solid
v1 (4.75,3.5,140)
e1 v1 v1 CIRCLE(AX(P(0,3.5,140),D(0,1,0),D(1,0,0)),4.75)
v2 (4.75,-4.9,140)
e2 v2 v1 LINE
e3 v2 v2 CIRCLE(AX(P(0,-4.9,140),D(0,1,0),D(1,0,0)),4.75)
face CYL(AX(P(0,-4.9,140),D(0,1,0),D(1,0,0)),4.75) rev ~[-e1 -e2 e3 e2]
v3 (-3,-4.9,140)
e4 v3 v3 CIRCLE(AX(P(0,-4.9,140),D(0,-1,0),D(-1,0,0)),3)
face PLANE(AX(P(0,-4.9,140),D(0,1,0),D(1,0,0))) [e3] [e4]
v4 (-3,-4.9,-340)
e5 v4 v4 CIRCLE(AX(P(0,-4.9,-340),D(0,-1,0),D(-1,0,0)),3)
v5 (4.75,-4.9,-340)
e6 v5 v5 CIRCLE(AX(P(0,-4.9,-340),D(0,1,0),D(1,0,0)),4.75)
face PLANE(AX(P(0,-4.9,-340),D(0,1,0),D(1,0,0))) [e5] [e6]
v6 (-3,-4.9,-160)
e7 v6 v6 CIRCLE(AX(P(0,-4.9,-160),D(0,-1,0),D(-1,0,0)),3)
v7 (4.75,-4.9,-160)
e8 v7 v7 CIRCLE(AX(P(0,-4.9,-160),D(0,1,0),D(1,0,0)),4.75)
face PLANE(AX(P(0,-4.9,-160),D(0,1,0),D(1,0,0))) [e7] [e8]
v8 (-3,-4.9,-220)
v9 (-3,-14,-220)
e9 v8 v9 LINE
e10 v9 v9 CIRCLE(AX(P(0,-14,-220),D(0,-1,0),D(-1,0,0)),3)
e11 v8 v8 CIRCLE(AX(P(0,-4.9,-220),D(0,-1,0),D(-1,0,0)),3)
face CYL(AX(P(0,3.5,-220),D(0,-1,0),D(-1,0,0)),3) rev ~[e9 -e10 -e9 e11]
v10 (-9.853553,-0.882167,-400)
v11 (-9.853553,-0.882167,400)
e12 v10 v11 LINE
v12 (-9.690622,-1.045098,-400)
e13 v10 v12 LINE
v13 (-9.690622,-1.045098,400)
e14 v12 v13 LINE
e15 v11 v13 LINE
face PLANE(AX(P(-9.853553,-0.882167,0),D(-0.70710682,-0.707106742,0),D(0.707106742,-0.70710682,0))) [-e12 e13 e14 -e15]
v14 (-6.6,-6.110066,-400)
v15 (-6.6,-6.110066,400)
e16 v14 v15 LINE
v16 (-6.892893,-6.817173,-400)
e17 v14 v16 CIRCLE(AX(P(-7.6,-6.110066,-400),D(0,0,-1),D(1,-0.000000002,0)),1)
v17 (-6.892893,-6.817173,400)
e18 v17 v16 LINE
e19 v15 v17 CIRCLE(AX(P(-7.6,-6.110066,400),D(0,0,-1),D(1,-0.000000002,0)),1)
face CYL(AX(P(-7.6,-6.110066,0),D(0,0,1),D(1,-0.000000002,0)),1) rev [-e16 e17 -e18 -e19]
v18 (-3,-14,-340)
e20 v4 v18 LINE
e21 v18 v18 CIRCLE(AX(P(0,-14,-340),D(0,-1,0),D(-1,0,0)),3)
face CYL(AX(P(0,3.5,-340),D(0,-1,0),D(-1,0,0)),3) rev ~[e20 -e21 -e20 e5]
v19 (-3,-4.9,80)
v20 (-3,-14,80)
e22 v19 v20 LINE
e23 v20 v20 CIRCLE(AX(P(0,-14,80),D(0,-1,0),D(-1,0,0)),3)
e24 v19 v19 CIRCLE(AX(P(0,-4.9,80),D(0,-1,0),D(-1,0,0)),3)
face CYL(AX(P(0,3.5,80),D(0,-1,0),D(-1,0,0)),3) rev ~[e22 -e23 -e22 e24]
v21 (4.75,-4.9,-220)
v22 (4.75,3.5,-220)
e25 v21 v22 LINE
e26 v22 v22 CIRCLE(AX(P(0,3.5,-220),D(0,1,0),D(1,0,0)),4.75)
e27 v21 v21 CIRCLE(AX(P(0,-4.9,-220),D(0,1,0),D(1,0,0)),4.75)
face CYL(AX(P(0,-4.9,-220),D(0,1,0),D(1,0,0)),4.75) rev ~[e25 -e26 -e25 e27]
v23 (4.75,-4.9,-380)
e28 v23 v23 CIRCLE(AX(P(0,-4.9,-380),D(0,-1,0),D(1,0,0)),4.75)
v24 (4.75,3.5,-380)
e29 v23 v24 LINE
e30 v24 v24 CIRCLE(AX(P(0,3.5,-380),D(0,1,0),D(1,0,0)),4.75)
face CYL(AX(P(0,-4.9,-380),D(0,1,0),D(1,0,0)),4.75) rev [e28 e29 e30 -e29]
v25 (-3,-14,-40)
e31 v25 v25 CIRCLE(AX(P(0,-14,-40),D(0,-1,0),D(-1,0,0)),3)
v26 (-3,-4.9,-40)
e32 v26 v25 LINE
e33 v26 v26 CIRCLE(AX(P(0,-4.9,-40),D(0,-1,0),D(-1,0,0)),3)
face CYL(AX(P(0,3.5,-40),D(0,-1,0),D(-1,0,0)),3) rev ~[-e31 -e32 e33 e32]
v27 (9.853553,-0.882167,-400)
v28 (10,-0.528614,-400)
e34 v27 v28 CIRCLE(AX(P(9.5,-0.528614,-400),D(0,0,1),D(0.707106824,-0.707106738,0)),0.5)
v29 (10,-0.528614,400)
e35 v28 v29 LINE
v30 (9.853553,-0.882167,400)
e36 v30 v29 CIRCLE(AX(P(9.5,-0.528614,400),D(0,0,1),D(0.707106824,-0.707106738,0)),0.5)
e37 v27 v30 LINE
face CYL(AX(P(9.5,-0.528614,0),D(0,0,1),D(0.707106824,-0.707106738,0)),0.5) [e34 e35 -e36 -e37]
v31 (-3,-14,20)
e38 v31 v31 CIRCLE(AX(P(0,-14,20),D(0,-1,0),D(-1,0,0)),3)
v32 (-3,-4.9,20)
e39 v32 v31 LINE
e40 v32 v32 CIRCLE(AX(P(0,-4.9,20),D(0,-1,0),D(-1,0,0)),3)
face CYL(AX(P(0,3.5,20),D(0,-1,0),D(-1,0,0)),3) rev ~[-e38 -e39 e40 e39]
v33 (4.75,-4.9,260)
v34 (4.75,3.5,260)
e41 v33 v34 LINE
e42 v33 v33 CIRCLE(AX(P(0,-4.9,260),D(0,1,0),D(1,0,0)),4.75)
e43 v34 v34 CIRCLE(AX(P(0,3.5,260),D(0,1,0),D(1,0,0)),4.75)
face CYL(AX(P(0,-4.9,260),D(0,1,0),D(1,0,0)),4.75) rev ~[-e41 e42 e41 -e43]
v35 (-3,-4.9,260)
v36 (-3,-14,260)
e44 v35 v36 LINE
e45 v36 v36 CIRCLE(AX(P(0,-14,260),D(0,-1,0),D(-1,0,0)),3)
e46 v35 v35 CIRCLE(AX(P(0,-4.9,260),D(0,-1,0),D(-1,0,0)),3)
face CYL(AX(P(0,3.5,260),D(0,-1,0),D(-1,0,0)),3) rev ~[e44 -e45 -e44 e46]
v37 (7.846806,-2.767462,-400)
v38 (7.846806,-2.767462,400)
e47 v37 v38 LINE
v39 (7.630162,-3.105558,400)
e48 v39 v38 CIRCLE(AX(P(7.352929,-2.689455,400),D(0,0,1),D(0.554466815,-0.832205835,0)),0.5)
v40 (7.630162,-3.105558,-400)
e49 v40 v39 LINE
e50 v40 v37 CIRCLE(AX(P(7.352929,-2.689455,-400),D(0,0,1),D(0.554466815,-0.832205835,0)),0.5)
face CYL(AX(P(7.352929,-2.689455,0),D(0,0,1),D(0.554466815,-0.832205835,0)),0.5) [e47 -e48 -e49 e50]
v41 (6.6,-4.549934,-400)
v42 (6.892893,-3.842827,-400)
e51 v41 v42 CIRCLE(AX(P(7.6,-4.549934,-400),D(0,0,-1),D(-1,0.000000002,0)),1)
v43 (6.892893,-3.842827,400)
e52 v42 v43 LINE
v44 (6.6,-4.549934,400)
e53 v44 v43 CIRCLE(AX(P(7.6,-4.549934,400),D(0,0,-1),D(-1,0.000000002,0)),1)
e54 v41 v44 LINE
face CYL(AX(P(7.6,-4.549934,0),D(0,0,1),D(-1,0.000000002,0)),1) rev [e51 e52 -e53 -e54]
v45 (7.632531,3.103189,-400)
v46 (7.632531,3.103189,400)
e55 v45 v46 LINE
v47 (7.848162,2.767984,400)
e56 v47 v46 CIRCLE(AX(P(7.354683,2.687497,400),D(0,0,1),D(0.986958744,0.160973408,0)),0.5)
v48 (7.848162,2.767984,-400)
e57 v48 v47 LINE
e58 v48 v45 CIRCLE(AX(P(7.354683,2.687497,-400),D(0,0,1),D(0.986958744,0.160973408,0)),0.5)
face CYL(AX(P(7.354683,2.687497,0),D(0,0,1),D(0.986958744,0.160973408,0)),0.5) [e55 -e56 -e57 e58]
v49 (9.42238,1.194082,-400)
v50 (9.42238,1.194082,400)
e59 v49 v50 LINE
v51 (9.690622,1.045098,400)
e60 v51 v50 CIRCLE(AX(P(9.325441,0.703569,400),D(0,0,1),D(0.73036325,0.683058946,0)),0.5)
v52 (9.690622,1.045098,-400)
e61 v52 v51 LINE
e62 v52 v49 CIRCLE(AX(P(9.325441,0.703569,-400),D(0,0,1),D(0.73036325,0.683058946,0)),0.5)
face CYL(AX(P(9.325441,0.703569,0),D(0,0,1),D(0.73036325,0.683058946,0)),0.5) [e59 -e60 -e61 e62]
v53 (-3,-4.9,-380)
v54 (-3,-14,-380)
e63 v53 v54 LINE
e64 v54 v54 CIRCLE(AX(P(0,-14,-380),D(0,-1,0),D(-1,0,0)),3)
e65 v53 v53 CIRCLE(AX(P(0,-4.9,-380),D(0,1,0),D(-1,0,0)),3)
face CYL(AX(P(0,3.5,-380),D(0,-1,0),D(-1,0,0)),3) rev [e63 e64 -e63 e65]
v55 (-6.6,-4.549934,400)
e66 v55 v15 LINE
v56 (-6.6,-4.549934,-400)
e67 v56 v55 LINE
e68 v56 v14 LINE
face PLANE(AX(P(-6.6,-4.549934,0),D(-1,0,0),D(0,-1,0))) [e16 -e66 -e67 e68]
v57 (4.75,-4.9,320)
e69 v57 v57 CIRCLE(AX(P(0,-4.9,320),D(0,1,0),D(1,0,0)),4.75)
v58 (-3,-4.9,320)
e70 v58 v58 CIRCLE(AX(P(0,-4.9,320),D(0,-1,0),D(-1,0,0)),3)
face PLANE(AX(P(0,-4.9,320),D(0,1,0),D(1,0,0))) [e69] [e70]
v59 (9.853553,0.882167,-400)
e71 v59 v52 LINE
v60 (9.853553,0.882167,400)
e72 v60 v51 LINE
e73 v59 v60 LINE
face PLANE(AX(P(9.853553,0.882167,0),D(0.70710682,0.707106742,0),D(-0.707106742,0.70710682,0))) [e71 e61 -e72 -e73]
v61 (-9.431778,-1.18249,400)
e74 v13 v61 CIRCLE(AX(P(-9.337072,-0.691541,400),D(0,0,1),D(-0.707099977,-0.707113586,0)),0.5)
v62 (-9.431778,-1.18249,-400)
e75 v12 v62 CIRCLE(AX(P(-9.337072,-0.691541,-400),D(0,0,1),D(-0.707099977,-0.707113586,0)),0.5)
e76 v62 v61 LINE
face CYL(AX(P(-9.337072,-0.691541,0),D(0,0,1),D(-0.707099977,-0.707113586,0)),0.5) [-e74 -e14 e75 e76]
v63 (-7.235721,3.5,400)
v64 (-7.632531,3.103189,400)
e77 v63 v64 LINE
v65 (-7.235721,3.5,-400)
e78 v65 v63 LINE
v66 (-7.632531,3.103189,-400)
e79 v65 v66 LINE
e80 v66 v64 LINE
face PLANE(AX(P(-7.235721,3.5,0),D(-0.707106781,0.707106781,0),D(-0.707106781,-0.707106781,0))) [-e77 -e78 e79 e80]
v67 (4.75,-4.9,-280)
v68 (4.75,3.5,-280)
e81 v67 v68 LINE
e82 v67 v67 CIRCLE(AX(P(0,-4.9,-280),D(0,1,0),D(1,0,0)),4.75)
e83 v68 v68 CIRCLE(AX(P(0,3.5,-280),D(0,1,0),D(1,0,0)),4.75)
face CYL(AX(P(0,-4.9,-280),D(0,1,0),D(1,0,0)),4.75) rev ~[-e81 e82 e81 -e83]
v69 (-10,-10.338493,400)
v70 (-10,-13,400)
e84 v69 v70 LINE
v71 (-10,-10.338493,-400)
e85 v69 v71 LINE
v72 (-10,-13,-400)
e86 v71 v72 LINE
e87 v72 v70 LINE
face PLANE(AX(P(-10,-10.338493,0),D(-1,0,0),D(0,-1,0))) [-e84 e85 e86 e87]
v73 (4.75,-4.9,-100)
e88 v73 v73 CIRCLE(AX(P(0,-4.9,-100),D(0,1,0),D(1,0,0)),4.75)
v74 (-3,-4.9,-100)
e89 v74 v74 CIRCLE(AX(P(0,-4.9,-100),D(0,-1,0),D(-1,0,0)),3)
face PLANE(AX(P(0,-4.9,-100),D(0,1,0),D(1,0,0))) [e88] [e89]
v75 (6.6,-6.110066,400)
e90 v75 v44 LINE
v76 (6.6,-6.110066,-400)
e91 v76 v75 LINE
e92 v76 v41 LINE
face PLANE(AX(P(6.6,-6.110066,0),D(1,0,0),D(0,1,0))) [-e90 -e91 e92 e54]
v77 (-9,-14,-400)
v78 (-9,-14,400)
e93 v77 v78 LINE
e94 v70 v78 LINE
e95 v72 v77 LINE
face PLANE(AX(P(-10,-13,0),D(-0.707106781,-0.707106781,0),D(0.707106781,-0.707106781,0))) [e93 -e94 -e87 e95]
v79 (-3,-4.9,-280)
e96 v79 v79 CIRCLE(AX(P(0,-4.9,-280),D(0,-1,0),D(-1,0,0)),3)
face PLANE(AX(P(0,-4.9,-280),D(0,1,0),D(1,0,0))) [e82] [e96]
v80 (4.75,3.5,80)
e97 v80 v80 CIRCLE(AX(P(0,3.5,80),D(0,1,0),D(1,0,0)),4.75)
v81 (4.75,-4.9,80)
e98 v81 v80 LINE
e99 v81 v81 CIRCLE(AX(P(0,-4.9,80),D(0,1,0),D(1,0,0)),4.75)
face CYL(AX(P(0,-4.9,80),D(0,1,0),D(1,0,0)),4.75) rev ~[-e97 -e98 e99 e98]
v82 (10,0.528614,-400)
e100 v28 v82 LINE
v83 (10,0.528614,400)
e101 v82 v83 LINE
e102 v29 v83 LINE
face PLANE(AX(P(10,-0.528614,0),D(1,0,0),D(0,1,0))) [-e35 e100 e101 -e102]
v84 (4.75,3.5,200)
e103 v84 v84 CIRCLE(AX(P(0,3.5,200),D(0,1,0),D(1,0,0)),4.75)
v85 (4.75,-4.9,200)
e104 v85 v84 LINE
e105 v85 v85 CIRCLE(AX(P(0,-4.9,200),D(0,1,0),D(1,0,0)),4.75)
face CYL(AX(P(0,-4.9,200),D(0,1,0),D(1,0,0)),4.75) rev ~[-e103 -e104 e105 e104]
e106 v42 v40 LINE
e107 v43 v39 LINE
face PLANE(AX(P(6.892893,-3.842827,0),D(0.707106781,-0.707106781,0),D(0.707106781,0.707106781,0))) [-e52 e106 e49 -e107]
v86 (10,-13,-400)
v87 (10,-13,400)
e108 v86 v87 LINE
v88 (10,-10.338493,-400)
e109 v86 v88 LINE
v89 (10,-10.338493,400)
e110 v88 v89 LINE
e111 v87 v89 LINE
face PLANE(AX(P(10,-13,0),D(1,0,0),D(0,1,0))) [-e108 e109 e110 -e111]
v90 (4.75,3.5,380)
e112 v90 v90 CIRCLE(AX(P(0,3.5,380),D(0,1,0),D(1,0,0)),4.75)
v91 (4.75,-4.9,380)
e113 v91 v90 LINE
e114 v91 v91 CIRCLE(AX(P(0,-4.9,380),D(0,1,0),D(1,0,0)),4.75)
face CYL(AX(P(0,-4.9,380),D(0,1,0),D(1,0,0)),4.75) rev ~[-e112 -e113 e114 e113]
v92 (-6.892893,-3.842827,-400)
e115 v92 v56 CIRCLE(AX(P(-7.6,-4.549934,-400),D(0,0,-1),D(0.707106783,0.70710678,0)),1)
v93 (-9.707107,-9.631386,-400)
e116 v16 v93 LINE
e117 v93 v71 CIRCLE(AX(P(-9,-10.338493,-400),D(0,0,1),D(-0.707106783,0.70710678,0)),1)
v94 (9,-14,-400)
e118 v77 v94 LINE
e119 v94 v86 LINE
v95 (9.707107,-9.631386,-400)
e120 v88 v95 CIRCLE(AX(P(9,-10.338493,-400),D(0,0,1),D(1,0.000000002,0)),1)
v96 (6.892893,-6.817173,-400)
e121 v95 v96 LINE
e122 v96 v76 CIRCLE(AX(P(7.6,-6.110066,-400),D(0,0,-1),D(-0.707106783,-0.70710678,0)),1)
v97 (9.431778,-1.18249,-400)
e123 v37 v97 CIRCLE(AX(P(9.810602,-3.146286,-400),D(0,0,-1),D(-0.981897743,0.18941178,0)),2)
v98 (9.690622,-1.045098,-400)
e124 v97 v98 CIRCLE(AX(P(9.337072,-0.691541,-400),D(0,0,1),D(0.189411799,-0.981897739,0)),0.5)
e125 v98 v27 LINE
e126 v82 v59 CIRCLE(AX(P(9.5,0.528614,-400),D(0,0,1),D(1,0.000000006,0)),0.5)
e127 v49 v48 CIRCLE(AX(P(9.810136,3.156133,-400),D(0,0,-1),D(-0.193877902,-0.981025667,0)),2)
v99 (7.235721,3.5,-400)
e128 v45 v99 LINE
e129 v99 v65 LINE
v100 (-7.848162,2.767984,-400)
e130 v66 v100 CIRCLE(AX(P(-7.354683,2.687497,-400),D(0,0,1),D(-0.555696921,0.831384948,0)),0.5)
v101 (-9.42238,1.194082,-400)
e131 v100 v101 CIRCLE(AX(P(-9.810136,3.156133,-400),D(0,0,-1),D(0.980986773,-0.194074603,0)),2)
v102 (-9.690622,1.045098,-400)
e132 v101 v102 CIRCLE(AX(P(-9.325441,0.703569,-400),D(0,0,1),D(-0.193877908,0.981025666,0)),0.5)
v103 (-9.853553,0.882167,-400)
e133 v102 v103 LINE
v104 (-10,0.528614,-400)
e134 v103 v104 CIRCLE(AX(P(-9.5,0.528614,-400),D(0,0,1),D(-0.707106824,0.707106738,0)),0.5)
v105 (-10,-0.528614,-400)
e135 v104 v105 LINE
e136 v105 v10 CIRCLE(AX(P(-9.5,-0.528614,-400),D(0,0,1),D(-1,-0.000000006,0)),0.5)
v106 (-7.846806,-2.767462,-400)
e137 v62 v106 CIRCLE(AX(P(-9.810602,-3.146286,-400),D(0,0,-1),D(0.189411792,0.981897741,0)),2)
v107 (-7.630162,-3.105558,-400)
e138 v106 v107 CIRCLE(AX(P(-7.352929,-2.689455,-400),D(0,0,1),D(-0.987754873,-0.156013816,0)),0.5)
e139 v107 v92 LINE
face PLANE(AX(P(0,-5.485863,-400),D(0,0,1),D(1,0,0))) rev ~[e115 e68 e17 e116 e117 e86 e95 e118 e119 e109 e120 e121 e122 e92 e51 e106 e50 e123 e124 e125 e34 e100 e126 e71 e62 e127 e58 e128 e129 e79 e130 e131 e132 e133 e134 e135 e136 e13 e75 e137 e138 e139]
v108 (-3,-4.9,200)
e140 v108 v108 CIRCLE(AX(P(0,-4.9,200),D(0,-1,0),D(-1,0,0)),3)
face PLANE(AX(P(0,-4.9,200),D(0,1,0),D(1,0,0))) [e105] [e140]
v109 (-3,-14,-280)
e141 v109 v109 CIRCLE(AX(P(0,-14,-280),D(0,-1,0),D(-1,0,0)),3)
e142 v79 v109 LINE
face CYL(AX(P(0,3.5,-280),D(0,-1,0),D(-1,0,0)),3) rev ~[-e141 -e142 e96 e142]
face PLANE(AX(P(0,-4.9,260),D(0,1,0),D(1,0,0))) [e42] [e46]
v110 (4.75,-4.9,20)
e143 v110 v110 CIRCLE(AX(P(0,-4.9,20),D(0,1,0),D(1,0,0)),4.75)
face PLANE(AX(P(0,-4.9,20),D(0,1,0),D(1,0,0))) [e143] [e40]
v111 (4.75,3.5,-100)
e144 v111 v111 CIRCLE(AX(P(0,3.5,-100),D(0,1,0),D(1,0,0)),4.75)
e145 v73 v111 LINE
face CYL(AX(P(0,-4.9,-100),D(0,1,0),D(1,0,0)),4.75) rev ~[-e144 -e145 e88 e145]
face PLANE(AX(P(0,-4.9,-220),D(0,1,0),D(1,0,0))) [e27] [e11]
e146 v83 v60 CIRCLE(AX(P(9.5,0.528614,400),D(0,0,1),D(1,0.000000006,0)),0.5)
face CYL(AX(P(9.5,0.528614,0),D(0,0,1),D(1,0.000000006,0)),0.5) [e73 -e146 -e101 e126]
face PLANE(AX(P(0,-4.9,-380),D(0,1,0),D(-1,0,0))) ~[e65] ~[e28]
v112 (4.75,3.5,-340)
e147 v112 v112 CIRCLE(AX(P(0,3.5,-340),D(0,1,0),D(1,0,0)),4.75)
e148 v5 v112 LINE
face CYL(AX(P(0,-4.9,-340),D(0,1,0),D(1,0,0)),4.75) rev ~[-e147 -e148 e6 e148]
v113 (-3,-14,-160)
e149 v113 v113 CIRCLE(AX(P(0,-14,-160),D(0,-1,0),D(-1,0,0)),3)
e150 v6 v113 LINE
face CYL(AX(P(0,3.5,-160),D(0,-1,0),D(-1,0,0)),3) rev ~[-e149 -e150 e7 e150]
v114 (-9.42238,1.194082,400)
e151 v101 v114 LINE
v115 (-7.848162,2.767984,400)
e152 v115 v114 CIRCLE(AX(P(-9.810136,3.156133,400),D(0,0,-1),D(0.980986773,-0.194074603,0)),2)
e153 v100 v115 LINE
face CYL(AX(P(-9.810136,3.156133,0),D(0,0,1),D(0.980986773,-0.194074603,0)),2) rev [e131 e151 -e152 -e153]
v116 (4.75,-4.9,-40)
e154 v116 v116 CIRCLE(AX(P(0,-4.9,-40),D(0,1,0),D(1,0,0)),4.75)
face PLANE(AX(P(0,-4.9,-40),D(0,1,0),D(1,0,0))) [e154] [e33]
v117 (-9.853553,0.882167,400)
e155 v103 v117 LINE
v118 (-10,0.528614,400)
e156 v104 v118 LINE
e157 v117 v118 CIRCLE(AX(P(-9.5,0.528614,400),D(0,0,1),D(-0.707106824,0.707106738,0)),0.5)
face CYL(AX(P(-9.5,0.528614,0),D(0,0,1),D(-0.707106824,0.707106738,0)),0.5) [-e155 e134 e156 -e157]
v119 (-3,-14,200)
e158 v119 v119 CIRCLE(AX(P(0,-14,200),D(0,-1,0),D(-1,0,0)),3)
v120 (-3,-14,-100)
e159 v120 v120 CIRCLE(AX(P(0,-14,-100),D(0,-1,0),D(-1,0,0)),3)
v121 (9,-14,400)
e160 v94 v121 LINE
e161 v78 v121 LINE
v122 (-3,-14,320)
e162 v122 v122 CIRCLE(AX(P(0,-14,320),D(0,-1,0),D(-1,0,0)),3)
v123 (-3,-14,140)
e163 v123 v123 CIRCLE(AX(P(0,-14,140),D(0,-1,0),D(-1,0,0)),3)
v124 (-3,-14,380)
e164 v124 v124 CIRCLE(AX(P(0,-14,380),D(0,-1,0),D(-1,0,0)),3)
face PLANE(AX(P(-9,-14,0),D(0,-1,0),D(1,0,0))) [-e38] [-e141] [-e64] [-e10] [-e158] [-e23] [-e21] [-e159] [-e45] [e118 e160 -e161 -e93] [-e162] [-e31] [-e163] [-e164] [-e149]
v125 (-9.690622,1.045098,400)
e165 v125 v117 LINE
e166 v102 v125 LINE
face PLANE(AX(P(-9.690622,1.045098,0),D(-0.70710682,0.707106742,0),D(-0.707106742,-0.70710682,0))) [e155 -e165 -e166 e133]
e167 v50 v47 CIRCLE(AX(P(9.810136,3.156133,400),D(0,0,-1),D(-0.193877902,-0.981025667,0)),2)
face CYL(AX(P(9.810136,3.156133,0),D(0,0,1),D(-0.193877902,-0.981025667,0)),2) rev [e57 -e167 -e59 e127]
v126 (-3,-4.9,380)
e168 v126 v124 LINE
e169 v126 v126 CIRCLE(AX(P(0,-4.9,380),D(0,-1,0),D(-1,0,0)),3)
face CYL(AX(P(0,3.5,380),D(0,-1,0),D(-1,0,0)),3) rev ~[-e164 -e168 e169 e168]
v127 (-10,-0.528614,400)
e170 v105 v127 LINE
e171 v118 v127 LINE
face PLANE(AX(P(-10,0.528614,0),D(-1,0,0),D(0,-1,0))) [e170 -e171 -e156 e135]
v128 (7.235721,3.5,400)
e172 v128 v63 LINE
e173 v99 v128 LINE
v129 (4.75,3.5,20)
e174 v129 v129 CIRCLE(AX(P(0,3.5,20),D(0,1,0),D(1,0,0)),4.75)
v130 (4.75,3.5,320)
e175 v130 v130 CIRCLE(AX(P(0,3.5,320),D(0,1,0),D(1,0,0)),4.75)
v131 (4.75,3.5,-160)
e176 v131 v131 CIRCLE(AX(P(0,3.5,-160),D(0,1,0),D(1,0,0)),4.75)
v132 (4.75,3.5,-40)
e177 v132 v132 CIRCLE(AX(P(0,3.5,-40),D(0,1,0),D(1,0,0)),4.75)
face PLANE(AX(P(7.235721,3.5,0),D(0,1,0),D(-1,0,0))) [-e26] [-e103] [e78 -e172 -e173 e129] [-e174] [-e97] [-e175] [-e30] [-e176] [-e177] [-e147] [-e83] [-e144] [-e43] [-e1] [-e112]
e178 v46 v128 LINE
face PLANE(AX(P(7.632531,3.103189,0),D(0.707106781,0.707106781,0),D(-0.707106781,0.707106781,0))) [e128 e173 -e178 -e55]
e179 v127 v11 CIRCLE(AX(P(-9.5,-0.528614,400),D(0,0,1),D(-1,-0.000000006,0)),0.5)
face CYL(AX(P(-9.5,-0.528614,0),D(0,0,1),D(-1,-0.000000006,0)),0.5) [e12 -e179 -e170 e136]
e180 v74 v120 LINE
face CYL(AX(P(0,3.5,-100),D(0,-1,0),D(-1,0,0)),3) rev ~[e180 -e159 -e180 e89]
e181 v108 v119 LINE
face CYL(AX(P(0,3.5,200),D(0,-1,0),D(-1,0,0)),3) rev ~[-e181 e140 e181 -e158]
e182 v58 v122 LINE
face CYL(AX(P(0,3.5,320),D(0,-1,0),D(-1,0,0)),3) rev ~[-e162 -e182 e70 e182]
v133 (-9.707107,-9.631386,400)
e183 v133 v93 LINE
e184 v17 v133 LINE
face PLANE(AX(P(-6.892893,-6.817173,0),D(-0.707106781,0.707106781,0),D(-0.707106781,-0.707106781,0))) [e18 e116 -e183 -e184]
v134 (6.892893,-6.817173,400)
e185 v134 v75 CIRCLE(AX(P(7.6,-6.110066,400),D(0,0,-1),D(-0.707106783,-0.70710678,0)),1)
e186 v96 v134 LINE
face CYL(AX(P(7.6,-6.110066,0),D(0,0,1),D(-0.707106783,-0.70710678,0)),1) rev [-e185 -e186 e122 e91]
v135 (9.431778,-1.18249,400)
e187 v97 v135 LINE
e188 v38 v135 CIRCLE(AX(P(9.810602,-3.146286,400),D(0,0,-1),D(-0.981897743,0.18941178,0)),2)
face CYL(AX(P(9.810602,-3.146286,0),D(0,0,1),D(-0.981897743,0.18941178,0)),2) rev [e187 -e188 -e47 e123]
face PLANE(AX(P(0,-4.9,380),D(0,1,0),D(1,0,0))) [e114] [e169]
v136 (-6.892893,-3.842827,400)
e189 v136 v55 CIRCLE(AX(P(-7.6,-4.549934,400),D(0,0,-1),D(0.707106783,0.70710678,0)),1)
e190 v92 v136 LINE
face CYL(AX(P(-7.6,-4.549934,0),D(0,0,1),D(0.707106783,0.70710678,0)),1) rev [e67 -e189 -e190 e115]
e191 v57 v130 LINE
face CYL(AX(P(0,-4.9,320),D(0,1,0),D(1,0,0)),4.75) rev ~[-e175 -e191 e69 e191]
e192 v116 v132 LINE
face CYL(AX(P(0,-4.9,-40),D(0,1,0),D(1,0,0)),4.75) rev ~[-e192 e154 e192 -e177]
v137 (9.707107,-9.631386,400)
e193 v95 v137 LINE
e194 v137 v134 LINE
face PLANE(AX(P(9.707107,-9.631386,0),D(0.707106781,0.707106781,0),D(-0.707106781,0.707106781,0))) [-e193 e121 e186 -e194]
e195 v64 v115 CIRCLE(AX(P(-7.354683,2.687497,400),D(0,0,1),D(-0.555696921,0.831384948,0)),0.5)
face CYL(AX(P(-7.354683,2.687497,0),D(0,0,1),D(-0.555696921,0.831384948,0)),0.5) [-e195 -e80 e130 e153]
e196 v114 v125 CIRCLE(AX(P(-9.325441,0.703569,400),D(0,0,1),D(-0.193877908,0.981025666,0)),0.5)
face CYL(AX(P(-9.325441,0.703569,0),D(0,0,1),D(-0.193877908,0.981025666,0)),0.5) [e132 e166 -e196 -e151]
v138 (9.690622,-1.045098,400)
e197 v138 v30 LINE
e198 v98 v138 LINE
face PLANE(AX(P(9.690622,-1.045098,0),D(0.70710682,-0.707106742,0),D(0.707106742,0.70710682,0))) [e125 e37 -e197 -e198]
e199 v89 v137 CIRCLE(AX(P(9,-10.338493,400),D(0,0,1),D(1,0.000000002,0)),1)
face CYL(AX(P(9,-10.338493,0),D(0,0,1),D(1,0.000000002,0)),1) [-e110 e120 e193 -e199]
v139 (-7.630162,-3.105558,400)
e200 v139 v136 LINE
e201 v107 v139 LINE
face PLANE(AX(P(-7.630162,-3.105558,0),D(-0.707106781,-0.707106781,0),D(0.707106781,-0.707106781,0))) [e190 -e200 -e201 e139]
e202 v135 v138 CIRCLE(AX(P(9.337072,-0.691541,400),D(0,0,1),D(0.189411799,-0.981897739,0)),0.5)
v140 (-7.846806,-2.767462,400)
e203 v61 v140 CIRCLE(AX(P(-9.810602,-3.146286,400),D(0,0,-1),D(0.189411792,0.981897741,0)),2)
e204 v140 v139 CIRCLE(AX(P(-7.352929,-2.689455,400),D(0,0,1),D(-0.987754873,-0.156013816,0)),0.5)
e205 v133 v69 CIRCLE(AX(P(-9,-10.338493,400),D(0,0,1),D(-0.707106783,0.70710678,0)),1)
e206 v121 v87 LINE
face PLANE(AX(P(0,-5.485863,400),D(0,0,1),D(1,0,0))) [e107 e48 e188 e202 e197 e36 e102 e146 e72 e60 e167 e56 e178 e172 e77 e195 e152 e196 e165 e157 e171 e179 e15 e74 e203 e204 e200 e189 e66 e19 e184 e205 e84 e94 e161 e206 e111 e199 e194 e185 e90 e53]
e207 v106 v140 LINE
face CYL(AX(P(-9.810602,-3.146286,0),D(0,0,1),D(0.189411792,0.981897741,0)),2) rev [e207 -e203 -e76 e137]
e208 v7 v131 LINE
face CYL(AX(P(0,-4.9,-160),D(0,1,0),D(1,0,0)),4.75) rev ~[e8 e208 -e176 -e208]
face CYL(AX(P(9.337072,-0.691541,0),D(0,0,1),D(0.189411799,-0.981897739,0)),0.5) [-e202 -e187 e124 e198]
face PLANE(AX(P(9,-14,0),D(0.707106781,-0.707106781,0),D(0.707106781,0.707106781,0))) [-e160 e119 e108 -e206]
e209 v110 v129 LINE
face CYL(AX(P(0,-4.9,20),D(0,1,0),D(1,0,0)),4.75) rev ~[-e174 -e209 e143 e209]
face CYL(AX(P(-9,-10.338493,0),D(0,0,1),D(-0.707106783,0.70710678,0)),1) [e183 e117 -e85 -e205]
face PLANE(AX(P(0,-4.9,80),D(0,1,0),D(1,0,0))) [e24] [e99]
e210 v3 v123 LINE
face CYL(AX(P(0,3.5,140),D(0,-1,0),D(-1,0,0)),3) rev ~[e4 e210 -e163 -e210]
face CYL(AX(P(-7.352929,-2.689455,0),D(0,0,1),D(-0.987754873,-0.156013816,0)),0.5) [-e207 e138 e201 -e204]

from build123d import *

# Parameters (mm, degrees)
BODY_DEPTH                     = 400
CBORE_FOR_M6_SHCS1_D           = 6
CBORE_FOR_M6_SHCS1_CBORE_D     = 9.5
CBORE_FOR_M6_SHCS1_CBORE_DEPTH = 8.4
LP_CBORE_COUNT                 = 13
LP_CBORE_PITCH                 = 60


with BuildPart() as part:
    # Sketch10 → BODY (new, symmetric)
    with BuildSketch(Plane.XY):
        with BuildLine():
            Line((-10, -10.338492954), (-10, -13))
            Line((-10, -13), (-9, -14))
            Line((-9, -14), (9, -14))
            Line((9, -14), (10, -13))
            Line((10, -13), (10, -10.338492954))
            ThreePointArc((10, -10.338492954), (9.92387953, -9.955809511), (9.707106773, -9.631386153))
            Line((9.707106773, -9.631386153), (6.892893227, -6.817172607))
            ThreePointArc((6.892893227, -6.817172607), (6.67612047, -6.492749249), (6.6, -6.110065806))
            Line((6.6, -6.110065806), (6.6, -4.549934184))
            ThreePointArc((6.6, -4.549934184), (6.67612047, -4.167250741), (6.892893227, -3.842827383))
            Line((6.892893227, -3.842827383), (7.63016236, -3.10555825))
            ThreePointArc((7.63016236, -3.10555825), (7.773916138, -2.959214094), (7.846806387, -2.767462244))
            ThreePointArc((7.846806387, -2.767462244), (8.396388302, -1.732072251), (9.431778289, -1.182490324))
            ThreePointArc((9.431778289, -1.182490324), (9.571491848, -1.133183298), (9.690622384, -1.045098244))
            Line((9.690622384, -1.045098244), (9.85355341, -0.8821672))
            ThreePointArc((9.85355341, -0.8821672), (9.961939771, -0.719955532), (10, -0.528613829))
            Line((10, -0.528613829), (10, 0.528613829))
            ThreePointArc((10, 0.528613829), (9.961939771, 0.719955532), (9.85355341, 0.8821672))
            Line((9.85355341, 0.8821672), (9.690622384, 1.045098244))
            ThreePointArc((9.690622384, 1.045098244), (9.568212021, 1.140675288), (9.422379794, 1.194081559))
            ThreePointArc((9.422379794, 1.194081559), (8.396063845, 1.741777545), (7.848162084, 2.767983656))
            ThreePointArc((7.848162084, 2.767983656), (7.775191193, 2.958001329), (7.63253117, 3.10318943))
            Line((7.63253117, 3.10318943), (7.2357206, 3.5))
            Line((7.2357206, 3.5), (-7.2357206, 3.5))
            Line((-7.2357206, 3.5), (-7.63253117, 3.10318943))
            ThreePointArc((-7.63253117, 3.10318943), (-7.775191193, 2.958001329), (-7.848162084, 2.767983656))
            ThreePointArc((-7.848162084, 2.767983656), (-8.396063845, 1.741777545), (-9.422379794, 1.194081559))
            ThreePointArc((-9.422379794, 1.194081559), (-9.568212021, 1.140675288), (-9.690622384, 1.045098244))
            Line((-9.690622384, 1.045098244), (-9.85355341, 0.8821672))
            ThreePointArc((-9.85355341, 0.8821672), (-9.961939771, 0.719955532), (-10, 0.528613829))
            Line((-10, 0.528613829), (-10, -0.528613829))
            ThreePointArc((-10, -0.528613829), (-9.961939771, -0.719955532), (-9.85355341, -0.8821672))
            Line((-9.85355341, -0.8821672), (-9.690622384, -1.045098244))
            ThreePointArc((-9.690622384, -1.045098244), (-9.571491848, -1.133183298), (-9.431778289, -1.182490324))
            ThreePointArc((-9.431778289, -1.182490324), (-8.396388302, -1.732072251), (-7.846806387, -2.767462244))
            ThreePointArc((-7.846806387, -2.767462244), (-7.773916138, -2.959214094), (-7.63016236, -3.10555825))
            Line((-7.63016236, -3.10555825), (-6.892893227, -3.842827383))
            ThreePointArc((-6.892893227, -3.842827383), (-6.67612047, -4.167250741), (-6.6, -4.549934184))
            Line((-6.6, -4.549934184), (-6.6, -6.110065806))
            ThreePointArc((-6.6, -6.110065806), (-6.67612047, -6.492749249), (-6.892893227, -6.817172607))
            Line((-6.892893227, -6.817172607), (-9.707106773, -9.631386153))
            ThreePointArc((-9.707106773, -9.631386153), (-9.92387953, -9.955809511), (-10, -10.338492954))
        make_face()
    extrude(amount=BODY_DEPTH, both=True)

    # CBORE for M6 SHCS1 (through all)
    with Locations(Plane(origin=(0, 3.5, 0), x_dir=(1, 0, 0), z_dir=(0, 1, 0))):
        with Locations((0, -380)):
            cbore_for_m6_shcs1 = CounterBoreHole(CBORE_FOR_M6_SHCS1_D / 2, CBORE_FOR_M6_SHCS1_CBORE_D / 2, CBORE_FOR_M6_SHCS1_CBORE_DEPTH)

    # MIRROR FIRST COUNTERBORE: CBORE for M6 SHCS1 across plane
    add(cbore_for_m6_shcs1.mirror(Plane.XY), mode=Mode.SUBTRACT)

    # LP CBORE: CBORE for M6 SHCS1 ×13
    with Locations(*[(0, 0, -i * LP_CBORE_PITCH) for i in range(1, LP_CBORE_COUNT)]):
        add(cbore_for_m6_shcs1, mode=Mode.SUBTRACT)


solid = part.part
